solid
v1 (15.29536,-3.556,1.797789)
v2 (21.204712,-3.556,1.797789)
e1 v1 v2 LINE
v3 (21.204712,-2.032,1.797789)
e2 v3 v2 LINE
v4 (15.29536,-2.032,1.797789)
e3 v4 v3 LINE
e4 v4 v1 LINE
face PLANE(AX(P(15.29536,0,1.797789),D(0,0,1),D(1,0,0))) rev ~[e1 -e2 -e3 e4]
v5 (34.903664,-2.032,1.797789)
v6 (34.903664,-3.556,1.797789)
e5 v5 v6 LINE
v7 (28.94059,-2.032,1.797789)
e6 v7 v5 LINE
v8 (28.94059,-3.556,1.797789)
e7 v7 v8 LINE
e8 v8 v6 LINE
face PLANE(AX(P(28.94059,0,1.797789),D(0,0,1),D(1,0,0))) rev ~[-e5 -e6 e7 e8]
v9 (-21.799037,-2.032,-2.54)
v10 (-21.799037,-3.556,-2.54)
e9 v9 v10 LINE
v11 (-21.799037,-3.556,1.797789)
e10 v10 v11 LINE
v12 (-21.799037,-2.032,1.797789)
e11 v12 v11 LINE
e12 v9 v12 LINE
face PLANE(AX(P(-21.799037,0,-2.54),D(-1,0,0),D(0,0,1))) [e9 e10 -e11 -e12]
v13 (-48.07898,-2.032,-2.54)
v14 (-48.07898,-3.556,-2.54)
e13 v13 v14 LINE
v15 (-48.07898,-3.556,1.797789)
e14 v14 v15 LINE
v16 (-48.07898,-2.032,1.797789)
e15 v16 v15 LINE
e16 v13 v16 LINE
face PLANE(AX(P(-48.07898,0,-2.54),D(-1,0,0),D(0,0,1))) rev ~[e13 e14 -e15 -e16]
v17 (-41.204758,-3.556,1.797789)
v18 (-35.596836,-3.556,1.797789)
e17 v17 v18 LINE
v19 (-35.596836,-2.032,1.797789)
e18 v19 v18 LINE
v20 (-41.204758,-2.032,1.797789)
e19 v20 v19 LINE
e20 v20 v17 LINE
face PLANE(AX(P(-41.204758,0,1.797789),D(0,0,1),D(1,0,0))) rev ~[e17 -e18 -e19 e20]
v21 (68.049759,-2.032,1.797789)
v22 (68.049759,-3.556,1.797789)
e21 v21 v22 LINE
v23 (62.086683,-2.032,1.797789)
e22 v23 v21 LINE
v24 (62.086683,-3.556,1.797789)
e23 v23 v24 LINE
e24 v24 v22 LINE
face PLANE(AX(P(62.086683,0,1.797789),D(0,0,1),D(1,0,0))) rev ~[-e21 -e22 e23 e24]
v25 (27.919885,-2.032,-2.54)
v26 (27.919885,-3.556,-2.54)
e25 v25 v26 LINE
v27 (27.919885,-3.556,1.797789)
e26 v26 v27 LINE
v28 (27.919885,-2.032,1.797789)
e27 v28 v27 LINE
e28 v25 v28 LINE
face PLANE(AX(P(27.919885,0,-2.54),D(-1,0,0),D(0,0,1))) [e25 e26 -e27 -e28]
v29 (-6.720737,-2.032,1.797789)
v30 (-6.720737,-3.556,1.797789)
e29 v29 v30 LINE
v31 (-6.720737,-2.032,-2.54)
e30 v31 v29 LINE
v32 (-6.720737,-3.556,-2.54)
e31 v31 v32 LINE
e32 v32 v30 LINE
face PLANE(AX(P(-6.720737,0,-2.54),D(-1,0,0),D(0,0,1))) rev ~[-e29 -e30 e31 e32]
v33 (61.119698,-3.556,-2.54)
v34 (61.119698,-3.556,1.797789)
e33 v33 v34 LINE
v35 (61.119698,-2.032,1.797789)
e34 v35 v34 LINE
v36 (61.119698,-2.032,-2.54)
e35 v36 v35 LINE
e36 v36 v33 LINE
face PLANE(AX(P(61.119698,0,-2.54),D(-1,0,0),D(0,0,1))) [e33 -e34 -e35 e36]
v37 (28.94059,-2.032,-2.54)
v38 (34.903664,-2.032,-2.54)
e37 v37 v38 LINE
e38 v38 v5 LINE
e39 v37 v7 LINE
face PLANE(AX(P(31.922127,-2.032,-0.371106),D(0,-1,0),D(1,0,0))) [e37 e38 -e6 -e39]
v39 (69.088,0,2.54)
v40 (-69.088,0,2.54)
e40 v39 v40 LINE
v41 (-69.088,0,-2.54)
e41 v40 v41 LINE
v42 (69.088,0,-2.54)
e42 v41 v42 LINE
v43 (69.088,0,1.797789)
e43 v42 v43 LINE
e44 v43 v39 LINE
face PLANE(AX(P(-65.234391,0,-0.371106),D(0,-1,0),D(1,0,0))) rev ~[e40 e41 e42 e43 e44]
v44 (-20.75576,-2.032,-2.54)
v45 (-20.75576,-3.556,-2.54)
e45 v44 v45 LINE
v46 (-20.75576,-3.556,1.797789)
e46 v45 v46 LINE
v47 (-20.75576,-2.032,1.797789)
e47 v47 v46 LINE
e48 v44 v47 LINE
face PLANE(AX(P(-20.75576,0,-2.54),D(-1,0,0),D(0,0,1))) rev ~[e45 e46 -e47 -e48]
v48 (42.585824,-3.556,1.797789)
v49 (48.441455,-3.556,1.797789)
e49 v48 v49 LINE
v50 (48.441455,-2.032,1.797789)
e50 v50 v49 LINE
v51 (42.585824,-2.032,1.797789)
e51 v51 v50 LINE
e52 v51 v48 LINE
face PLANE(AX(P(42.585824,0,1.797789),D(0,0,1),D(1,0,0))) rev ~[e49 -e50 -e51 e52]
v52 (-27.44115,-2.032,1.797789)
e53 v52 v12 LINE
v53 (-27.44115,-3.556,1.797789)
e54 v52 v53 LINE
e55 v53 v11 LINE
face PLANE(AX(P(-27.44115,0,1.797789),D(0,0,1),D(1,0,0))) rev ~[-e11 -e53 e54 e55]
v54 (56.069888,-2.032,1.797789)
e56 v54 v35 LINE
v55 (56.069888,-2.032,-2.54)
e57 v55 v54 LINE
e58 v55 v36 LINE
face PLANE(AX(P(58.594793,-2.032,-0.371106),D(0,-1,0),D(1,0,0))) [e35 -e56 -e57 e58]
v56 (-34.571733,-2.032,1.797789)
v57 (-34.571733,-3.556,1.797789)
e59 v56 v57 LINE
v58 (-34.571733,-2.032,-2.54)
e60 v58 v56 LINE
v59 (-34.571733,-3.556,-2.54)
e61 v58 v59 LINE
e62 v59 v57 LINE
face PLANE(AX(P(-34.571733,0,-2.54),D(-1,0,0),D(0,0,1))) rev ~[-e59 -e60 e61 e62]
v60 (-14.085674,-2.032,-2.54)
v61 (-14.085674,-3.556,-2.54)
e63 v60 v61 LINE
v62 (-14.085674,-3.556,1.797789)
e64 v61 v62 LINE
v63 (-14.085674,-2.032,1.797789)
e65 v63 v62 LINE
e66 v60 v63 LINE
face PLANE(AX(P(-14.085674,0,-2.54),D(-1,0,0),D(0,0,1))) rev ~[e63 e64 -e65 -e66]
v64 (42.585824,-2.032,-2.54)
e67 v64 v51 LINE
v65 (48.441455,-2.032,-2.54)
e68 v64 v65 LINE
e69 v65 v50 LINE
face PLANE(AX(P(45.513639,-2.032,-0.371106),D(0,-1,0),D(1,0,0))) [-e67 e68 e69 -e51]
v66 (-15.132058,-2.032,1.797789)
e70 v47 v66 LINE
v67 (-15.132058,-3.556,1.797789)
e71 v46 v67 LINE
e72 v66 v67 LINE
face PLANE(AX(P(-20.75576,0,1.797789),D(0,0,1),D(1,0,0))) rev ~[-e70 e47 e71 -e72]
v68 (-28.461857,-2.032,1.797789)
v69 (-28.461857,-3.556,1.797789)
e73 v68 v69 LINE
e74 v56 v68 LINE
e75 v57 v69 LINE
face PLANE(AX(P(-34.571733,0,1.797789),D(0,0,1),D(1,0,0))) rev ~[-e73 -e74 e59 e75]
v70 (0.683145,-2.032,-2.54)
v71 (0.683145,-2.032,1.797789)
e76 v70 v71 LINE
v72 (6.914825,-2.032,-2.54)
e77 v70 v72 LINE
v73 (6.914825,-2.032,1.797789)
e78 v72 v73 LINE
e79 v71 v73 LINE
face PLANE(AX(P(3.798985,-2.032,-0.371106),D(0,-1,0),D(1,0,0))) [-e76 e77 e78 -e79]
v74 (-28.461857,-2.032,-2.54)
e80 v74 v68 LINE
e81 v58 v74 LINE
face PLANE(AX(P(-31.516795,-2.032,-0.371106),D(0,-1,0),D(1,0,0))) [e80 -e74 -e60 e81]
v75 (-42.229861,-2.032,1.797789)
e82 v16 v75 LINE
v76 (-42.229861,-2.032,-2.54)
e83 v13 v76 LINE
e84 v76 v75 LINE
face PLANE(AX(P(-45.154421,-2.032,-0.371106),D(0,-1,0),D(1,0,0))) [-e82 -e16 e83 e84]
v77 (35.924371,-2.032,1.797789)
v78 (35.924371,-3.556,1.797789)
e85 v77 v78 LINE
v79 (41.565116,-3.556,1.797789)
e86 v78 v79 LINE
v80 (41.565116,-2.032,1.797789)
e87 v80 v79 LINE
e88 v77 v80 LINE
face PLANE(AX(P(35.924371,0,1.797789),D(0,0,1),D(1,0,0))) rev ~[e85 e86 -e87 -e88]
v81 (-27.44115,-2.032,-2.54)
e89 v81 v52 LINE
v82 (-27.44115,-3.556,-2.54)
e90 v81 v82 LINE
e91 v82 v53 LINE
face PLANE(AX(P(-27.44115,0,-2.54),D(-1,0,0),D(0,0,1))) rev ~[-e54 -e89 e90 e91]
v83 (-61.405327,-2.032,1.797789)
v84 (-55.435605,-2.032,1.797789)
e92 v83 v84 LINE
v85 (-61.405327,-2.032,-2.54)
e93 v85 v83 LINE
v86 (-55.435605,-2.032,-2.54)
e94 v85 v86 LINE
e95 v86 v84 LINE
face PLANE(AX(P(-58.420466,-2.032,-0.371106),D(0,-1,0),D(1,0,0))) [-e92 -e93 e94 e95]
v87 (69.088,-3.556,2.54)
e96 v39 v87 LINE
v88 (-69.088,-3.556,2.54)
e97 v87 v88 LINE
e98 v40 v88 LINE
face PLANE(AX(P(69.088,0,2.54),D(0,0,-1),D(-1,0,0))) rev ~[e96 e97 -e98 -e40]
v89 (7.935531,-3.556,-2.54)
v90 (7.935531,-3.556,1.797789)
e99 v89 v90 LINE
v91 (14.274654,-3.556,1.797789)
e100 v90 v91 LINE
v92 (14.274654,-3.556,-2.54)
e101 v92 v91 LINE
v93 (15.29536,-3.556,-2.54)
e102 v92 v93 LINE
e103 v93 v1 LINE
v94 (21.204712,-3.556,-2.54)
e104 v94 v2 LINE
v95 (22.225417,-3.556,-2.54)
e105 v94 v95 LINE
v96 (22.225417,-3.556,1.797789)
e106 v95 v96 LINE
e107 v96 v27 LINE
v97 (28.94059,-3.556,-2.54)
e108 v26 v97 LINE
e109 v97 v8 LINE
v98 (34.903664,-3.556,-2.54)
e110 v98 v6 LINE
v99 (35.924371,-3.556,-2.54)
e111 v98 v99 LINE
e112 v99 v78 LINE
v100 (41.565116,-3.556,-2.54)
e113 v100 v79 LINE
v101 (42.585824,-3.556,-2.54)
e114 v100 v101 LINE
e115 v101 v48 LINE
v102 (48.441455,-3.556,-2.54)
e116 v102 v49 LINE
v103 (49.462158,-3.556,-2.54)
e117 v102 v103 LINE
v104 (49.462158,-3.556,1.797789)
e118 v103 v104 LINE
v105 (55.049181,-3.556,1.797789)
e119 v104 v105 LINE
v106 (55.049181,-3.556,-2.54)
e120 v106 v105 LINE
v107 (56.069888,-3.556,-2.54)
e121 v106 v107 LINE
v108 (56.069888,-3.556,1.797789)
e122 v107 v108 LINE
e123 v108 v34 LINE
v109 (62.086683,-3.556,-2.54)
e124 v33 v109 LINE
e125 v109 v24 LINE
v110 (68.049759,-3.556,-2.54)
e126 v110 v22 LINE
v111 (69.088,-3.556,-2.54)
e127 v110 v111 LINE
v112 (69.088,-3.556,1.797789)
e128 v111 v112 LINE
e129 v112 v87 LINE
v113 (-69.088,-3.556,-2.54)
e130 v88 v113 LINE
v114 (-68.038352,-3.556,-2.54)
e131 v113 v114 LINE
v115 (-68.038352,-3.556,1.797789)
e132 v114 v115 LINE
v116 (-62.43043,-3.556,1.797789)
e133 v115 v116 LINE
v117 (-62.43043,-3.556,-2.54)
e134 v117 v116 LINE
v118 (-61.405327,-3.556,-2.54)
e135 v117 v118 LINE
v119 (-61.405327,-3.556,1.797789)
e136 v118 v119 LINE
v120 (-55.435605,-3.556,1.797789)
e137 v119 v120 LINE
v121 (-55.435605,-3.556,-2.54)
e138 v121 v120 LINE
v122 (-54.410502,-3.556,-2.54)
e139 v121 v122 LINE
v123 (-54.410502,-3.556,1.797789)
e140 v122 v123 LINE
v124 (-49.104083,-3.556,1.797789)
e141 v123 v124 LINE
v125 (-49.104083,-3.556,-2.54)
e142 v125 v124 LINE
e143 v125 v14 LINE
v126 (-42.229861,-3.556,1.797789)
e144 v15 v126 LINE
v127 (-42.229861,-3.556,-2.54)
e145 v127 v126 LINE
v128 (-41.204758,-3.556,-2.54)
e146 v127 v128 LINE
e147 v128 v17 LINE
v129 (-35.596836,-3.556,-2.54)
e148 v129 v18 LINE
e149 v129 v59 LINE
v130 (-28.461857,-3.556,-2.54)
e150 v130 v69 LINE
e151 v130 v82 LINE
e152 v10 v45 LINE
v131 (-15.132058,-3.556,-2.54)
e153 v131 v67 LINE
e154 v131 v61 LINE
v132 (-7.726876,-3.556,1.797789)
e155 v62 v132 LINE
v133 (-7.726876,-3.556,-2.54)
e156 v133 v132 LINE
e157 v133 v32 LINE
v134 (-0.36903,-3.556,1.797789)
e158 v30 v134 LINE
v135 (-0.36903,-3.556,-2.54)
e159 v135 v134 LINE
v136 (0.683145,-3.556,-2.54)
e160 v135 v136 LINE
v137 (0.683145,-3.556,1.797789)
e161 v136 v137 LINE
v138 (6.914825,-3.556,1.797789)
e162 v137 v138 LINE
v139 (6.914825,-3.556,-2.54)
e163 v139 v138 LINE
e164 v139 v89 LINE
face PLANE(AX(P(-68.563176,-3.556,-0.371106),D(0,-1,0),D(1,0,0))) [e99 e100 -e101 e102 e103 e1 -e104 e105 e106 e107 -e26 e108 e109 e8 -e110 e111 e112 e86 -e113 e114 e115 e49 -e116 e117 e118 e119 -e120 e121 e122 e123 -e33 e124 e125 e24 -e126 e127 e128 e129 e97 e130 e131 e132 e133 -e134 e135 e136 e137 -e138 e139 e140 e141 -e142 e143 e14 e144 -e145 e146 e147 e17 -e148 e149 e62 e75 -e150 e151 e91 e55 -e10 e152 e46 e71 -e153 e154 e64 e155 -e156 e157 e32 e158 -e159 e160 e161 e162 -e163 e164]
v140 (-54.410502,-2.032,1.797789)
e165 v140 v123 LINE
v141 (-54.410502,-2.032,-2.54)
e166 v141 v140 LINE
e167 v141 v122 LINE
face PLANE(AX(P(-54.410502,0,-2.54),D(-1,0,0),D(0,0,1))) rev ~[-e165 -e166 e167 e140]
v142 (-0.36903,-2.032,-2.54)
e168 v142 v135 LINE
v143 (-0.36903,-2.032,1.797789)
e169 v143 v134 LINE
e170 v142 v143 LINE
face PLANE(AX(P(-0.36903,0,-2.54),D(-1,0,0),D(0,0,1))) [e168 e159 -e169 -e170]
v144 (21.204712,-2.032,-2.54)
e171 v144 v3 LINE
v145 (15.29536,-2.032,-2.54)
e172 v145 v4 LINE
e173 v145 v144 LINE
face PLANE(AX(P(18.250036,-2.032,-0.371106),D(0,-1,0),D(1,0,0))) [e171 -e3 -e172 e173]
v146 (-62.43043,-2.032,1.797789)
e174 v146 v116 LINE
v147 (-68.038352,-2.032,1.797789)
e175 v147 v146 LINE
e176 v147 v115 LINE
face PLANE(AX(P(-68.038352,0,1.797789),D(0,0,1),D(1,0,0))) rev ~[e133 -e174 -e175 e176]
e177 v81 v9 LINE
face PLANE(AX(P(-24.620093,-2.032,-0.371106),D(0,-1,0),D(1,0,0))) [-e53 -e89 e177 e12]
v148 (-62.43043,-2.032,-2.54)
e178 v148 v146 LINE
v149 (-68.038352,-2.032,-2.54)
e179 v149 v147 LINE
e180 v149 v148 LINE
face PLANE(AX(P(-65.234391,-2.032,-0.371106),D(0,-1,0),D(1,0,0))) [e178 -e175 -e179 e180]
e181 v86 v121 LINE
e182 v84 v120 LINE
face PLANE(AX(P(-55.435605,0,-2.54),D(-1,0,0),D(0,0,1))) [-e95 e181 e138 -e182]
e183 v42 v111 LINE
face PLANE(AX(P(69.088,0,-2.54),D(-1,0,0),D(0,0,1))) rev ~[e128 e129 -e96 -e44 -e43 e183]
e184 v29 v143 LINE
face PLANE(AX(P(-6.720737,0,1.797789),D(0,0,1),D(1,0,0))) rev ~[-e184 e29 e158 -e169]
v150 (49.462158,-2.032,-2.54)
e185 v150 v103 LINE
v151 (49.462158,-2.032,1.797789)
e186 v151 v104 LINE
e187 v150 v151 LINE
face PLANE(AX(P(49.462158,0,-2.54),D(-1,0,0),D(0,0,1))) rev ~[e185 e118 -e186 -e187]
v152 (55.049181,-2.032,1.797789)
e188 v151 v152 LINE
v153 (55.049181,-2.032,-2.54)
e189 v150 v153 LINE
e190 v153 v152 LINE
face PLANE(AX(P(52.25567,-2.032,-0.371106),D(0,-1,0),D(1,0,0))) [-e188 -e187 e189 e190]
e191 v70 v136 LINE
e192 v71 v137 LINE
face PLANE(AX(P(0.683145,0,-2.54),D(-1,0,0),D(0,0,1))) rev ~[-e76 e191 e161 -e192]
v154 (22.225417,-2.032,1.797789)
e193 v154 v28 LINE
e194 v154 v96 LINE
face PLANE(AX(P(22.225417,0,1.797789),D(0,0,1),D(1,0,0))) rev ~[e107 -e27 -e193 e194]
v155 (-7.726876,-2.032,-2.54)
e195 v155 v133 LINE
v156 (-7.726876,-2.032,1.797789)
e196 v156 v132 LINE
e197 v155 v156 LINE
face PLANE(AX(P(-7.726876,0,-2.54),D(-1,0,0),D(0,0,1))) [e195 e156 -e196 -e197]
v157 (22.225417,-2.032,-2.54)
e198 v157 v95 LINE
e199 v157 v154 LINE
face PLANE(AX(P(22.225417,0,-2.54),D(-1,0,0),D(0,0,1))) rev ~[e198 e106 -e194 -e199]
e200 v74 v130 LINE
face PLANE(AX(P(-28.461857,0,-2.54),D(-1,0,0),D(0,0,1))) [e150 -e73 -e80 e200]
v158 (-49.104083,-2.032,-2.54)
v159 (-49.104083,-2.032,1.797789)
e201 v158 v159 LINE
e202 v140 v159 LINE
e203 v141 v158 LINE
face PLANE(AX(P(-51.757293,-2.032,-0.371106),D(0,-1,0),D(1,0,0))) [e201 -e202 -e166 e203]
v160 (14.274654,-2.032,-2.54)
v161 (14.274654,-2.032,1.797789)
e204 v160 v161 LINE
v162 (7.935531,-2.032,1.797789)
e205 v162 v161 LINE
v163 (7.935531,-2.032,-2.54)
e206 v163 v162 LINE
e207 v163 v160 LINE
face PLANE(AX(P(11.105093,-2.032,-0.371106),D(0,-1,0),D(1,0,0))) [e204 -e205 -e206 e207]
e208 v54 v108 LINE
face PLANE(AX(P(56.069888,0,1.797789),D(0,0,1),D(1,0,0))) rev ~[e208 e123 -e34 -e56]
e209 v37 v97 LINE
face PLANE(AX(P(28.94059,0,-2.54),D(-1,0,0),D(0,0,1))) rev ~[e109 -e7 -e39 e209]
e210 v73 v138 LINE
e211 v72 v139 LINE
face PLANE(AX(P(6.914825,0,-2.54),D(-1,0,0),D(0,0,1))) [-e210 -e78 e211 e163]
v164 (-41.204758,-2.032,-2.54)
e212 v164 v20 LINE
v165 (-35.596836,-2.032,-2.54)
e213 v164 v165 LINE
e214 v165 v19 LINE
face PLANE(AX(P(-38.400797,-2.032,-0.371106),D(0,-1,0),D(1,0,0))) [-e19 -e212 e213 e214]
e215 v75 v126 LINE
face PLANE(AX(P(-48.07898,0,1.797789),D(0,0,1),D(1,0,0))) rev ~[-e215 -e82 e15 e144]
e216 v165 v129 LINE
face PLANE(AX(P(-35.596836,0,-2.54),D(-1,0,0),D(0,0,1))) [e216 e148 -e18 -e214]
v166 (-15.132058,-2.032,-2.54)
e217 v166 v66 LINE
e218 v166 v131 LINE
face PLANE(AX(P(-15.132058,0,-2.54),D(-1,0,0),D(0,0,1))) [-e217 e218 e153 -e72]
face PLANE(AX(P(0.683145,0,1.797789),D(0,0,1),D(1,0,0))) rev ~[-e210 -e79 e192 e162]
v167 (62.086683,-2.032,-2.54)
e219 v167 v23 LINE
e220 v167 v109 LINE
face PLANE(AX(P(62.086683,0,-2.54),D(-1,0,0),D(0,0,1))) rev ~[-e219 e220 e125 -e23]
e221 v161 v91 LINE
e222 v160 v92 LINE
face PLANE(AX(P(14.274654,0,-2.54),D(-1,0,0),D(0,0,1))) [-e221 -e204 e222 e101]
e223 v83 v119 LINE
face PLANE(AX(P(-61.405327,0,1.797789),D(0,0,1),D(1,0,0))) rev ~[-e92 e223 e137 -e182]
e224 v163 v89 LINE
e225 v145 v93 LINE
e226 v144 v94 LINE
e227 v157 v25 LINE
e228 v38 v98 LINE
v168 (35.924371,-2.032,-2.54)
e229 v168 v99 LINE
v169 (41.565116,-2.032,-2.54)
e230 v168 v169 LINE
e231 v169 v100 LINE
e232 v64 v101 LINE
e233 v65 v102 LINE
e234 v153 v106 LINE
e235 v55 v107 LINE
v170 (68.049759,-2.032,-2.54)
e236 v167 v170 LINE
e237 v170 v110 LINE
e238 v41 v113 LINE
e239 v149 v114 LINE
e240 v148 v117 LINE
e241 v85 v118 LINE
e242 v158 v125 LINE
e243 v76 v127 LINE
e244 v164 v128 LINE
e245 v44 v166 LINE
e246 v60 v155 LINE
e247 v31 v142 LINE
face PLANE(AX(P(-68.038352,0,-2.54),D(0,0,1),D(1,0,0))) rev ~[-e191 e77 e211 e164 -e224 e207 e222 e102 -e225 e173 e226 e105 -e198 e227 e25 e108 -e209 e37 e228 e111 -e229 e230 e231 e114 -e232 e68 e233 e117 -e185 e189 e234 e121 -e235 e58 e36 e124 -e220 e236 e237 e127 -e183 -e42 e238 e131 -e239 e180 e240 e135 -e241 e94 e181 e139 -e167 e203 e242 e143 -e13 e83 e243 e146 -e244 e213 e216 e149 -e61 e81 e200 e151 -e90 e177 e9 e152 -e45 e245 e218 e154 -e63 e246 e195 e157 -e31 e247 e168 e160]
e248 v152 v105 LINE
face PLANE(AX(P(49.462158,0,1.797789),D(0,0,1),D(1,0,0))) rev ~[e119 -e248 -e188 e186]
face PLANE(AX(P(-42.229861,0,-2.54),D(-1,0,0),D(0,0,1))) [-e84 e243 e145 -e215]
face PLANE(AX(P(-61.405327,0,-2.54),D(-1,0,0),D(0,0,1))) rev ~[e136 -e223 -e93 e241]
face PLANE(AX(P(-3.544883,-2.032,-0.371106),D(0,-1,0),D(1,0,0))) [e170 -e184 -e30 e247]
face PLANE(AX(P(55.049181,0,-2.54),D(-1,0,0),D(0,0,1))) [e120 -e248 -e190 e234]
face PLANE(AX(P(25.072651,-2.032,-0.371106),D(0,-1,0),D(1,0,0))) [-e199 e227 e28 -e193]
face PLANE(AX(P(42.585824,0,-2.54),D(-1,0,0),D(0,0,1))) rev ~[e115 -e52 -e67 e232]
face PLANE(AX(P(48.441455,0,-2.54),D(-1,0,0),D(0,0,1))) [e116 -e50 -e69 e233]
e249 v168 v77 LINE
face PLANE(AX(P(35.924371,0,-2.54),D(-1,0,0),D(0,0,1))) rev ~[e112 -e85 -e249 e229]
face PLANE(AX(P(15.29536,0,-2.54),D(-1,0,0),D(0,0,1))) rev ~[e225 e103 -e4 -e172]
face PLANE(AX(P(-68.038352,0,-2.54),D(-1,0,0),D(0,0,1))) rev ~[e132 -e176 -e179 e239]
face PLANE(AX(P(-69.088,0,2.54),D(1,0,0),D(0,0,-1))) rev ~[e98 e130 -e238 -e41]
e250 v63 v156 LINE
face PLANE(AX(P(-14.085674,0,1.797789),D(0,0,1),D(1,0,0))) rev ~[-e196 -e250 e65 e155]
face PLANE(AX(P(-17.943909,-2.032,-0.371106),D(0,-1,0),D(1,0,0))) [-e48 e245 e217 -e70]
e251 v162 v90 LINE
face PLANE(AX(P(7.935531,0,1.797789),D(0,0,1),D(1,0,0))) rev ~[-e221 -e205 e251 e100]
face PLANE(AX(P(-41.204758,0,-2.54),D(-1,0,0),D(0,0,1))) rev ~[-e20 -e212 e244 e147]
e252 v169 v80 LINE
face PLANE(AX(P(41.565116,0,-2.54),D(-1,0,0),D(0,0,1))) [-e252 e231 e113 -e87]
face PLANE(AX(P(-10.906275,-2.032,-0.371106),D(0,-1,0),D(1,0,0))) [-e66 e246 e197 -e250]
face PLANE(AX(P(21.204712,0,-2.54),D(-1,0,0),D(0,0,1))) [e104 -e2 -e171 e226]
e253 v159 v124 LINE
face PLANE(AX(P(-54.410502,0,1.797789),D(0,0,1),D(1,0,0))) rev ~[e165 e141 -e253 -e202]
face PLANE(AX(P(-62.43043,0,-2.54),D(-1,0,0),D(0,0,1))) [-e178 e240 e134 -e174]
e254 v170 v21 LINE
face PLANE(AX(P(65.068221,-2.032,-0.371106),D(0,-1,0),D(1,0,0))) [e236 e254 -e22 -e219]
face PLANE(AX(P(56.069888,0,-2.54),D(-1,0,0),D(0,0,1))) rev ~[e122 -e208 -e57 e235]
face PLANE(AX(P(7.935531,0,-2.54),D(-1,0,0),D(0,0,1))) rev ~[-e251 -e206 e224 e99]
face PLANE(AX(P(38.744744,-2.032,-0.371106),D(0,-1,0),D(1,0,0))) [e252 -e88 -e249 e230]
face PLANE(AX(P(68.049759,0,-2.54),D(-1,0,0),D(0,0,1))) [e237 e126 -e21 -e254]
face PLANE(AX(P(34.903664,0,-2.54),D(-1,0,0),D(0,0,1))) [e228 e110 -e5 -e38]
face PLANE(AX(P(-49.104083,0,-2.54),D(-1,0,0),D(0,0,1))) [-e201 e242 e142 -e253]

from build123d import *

# Parameters (mm, degrees)
F0_W     = 1.0496481662
F0_H     = 4.3377888929
F0_W_2   = 1.0251030326
F0_W_3   = 1.02070719
F0_W_4   = 1.0432768613
F0_W_5   = 1.0463846847
F0_W_6   = 1.0061389767
F0_W_7   = 1.0521755321
F0_W_8   = 1.0207062587
F0_W_9   = 1.0207053274
F0_W_10  = 1.0207034647
F0_W_11  = 0.9669847786
F0_W_12  = 1.0382413273
F1_DEPTH = 3.556
F0_W_13  = 5.6079216301
F0_W_14  = 5.9697218239
F0_W_15  = 5.3064189851
F0_W_16  = 5.8491192758
F0_W_17  = 6.1098765582
F0_W_18  = 5.6421123445
F0_W_19  = 5.6237019598
F0_W_20  = 6.3587981276
F0_W_21  = 6.3517062808
F0_W_22  = 6.2316799886
F0_W_23  = 6.3391225412
F0_W_24  = 5.909351632
F0_W_25  = 5.6944675744
F0_W_26  = 5.9630740434
F0_W_27  = 5.640745163
F0_W_28  = 5.8556310833
F0_W_29  = 5.5870227516
F0_W_30  = 5.0498098135
F0_W_31  = 5.963075906
F2_DEPTH = 2.032


with BuildPart() as f1:
    # F0 (on Front) → F1 (new body)
    with BuildSketch(Plane.XZ):
        with Locations((-68.5631759169, -0.3711055536)):
            Rectangle(F0_W, F0_H)
        Polygon((69.088, 1.7977888929), (69.088, 2.54), (-69.088, 2.54), (-69.088, 1.7977888929), (-68.0383518338, 1.7977888929), (-62.4304302037, 1.7977888929), (-61.4053271711, 1.7977888929), (-55.4356053472, 1.7977888929), (-54.4105023146, 1.7977888929), (-49.1040833294, 1.7977888929), (-48.0789802969, 1.7977888929), (-42.229861021, 1.7977888929), (-41.2047579885, 1.7977888929), (-35.5968363583, 1.7977888929), (-34.5717333257, 1.7977888929), (-28.4618567675, 1.7977888929), (-27.4411495775, 1.7977888929), (-21.799037233, 1.7977888929), (-20.7557603717, 1.7977888929), (-15.1320584118, 1.7977888929), (-14.0856737271, 1.7977888929), (-7.7268755995, 1.7977888929), (-6.7207366228, 1.7977888929), (-0.369030342, 1.7977888929), (0.6831451901, 1.7977888929), (6.9148251787, 1.7977888929), (7.9355314374, 1.7977888929), (14.2746539786, 1.7977888929), (15.2953602374, 1.7977888929), (21.2047118694, 1.7977888929), (22.2254171968, 1.7977888929), (27.9198847711, 1.7977888929), (28.9405900985, 1.7977888929), (34.9036641419, 1.7977888929), (35.9243713319, 1.7977888929), (41.5651164949, 1.7977888929), (42.5858236849, 1.7977888929), (48.4414547682, 1.7977888929), (49.4621582329, 1.7977888929), (55.0491809845, 1.7977888929), (56.0698881745, 1.7977888929), (61.119697988, 1.7977888929), (62.0866827667, 1.7977888929), (68.0497586727, 1.7977888929), align=None)
        with Locations((-61.9178786874, -0.3711055536)):
            Rectangle(F0_W_2, F0_H)
        with Locations((-54.9230538309, -0.3711055536)):
            Rectangle(F0_W_2, F0_H)
        with Locations((-48.5915318131, -0.3711055536)):
            Rectangle(F0_W_2, F0_H)
        with Locations((-41.7173095047, -0.3711055536)):
            Rectangle(F0_W_2, F0_H)
        with Locations((-35.084284842, -0.3711055536)):
            Rectangle(F0_W_2, F0_H)
        with Locations((-27.9515031725, -0.3711055536)):
            Rectangle(F0_W_3, F0_H)
        with Locations((-21.2773988023, -0.3711055536)):
            Rectangle(F0_W_4, F0_H)
        with Locations((-14.6088660695, -0.3711055536)):
            Rectangle(F0_W_5, F0_H)
        with Locations((-7.2238061111, -0.3711055536)):
            Rectangle(F0_W_6, F0_H)
        with Locations((0.1570574241, -0.3711055536)):
            Rectangle(F0_W_7, F0_H)
        with Locations((7.425178308, -0.3711055536)):
            Rectangle(F0_W_8, F0_H)
        with Locations((14.785007108, -0.3711055536)):
            Rectangle(F0_W_8, F0_H)
        with Locations((21.7150645331, -0.3711055536)):
            Rectangle(F0_W_9, F0_H)
        with Locations((28.4302374348, -0.3711055536)):
            Rectangle(F0_W_9, F0_H)
        with Locations((35.4140177369, -0.3711055536)):
            Rectangle(F0_W_3, F0_H)
        with Locations((42.0754700899, -0.3711055536)):
            Rectangle(F0_W_3, F0_H)
        with Locations((48.9518065006, -0.3711055536)):
            Rectangle(F0_W_10, F0_H)
        with Locations((55.5595345795, -0.3711055536)):
            Rectangle(F0_W_3, F0_H)
        with Locations((61.6031903774, -0.3711055536)):
            Rectangle(F0_W_11, F0_H)
        with Locations((68.5688793364, -0.3711055536)):
            Rectangle(F0_W_12, F0_H)
    extrude(amount=F1_DEPTH)

    # F0 (on Front) → F2 (join)
    with BuildSketch(Plane.XZ):
        with Locations((-65.2343910187, -0.3711055536)):
            Rectangle(F0_W_13, F0_H)
        with Locations((-58.4204662591, -0.3711055536)):
            Rectangle(F0_W_14, F0_H)
        with Locations((-51.757292822, -0.3711055536)):
            Rectangle(F0_W_15, F0_H)
        with Locations((-45.1544206589, -0.3711055536)):
            Rectangle(F0_W_16, F0_H)
        with Locations((-38.4007971734, -0.3711055536)):
            Rectangle(F0_W_13, F0_H)
        with Locations((-31.5167950466, -0.3711055536)):
            Rectangle(F0_W_17, F0_H)
        with Locations((-24.6200934052, -0.3711055536)):
            Rectangle(F0_W_18, F0_H)
        with Locations((-17.9439093918, -0.3711055536)):
            Rectangle(F0_W_19, F0_H)
        with Locations((-10.9062746633, -0.3711055536)):
            Rectangle(F0_W_20, F0_H)
        with Locations((-3.5448834824, -0.3711055536)):
            Rectangle(F0_W_21, F0_H)
        with Locations((3.7989851844, -0.3711055536)):
            Rectangle(F0_W_22, F0_H)
        with Locations((11.105092708, -0.3711055536)):
            Rectangle(F0_W_23, F0_H)
        with Locations((18.2500360534, -0.3711055536)):
            Rectangle(F0_W_24, F0_H)
        with Locations((25.0726509839, -0.3711055536)):
            Rectangle(F0_W_25, F0_H)
        with Locations((31.9221271202, -0.3711055536)):
            Rectangle(F0_W_26, F0_H)
        with Locations((38.7447439134, -0.3711055536)):
            Rectangle(F0_W_27, F0_H)
        with Locations((45.5136392266, -0.3711055536)):
            Rectangle(F0_W_28, F0_H)
        with Locations((52.2556696087, -0.3711055536)):
            Rectangle(F0_W_29, F0_H)
        with Locations((58.5947930813, -0.3711055536)):
            Rectangle(F0_W_30, F0_H)
        with Locations((65.0682207197, -0.3711055536)):
            Rectangle(F0_W_31, F0_H)
    extrude(amount=F2_DEPTH)


solid = f1.part
